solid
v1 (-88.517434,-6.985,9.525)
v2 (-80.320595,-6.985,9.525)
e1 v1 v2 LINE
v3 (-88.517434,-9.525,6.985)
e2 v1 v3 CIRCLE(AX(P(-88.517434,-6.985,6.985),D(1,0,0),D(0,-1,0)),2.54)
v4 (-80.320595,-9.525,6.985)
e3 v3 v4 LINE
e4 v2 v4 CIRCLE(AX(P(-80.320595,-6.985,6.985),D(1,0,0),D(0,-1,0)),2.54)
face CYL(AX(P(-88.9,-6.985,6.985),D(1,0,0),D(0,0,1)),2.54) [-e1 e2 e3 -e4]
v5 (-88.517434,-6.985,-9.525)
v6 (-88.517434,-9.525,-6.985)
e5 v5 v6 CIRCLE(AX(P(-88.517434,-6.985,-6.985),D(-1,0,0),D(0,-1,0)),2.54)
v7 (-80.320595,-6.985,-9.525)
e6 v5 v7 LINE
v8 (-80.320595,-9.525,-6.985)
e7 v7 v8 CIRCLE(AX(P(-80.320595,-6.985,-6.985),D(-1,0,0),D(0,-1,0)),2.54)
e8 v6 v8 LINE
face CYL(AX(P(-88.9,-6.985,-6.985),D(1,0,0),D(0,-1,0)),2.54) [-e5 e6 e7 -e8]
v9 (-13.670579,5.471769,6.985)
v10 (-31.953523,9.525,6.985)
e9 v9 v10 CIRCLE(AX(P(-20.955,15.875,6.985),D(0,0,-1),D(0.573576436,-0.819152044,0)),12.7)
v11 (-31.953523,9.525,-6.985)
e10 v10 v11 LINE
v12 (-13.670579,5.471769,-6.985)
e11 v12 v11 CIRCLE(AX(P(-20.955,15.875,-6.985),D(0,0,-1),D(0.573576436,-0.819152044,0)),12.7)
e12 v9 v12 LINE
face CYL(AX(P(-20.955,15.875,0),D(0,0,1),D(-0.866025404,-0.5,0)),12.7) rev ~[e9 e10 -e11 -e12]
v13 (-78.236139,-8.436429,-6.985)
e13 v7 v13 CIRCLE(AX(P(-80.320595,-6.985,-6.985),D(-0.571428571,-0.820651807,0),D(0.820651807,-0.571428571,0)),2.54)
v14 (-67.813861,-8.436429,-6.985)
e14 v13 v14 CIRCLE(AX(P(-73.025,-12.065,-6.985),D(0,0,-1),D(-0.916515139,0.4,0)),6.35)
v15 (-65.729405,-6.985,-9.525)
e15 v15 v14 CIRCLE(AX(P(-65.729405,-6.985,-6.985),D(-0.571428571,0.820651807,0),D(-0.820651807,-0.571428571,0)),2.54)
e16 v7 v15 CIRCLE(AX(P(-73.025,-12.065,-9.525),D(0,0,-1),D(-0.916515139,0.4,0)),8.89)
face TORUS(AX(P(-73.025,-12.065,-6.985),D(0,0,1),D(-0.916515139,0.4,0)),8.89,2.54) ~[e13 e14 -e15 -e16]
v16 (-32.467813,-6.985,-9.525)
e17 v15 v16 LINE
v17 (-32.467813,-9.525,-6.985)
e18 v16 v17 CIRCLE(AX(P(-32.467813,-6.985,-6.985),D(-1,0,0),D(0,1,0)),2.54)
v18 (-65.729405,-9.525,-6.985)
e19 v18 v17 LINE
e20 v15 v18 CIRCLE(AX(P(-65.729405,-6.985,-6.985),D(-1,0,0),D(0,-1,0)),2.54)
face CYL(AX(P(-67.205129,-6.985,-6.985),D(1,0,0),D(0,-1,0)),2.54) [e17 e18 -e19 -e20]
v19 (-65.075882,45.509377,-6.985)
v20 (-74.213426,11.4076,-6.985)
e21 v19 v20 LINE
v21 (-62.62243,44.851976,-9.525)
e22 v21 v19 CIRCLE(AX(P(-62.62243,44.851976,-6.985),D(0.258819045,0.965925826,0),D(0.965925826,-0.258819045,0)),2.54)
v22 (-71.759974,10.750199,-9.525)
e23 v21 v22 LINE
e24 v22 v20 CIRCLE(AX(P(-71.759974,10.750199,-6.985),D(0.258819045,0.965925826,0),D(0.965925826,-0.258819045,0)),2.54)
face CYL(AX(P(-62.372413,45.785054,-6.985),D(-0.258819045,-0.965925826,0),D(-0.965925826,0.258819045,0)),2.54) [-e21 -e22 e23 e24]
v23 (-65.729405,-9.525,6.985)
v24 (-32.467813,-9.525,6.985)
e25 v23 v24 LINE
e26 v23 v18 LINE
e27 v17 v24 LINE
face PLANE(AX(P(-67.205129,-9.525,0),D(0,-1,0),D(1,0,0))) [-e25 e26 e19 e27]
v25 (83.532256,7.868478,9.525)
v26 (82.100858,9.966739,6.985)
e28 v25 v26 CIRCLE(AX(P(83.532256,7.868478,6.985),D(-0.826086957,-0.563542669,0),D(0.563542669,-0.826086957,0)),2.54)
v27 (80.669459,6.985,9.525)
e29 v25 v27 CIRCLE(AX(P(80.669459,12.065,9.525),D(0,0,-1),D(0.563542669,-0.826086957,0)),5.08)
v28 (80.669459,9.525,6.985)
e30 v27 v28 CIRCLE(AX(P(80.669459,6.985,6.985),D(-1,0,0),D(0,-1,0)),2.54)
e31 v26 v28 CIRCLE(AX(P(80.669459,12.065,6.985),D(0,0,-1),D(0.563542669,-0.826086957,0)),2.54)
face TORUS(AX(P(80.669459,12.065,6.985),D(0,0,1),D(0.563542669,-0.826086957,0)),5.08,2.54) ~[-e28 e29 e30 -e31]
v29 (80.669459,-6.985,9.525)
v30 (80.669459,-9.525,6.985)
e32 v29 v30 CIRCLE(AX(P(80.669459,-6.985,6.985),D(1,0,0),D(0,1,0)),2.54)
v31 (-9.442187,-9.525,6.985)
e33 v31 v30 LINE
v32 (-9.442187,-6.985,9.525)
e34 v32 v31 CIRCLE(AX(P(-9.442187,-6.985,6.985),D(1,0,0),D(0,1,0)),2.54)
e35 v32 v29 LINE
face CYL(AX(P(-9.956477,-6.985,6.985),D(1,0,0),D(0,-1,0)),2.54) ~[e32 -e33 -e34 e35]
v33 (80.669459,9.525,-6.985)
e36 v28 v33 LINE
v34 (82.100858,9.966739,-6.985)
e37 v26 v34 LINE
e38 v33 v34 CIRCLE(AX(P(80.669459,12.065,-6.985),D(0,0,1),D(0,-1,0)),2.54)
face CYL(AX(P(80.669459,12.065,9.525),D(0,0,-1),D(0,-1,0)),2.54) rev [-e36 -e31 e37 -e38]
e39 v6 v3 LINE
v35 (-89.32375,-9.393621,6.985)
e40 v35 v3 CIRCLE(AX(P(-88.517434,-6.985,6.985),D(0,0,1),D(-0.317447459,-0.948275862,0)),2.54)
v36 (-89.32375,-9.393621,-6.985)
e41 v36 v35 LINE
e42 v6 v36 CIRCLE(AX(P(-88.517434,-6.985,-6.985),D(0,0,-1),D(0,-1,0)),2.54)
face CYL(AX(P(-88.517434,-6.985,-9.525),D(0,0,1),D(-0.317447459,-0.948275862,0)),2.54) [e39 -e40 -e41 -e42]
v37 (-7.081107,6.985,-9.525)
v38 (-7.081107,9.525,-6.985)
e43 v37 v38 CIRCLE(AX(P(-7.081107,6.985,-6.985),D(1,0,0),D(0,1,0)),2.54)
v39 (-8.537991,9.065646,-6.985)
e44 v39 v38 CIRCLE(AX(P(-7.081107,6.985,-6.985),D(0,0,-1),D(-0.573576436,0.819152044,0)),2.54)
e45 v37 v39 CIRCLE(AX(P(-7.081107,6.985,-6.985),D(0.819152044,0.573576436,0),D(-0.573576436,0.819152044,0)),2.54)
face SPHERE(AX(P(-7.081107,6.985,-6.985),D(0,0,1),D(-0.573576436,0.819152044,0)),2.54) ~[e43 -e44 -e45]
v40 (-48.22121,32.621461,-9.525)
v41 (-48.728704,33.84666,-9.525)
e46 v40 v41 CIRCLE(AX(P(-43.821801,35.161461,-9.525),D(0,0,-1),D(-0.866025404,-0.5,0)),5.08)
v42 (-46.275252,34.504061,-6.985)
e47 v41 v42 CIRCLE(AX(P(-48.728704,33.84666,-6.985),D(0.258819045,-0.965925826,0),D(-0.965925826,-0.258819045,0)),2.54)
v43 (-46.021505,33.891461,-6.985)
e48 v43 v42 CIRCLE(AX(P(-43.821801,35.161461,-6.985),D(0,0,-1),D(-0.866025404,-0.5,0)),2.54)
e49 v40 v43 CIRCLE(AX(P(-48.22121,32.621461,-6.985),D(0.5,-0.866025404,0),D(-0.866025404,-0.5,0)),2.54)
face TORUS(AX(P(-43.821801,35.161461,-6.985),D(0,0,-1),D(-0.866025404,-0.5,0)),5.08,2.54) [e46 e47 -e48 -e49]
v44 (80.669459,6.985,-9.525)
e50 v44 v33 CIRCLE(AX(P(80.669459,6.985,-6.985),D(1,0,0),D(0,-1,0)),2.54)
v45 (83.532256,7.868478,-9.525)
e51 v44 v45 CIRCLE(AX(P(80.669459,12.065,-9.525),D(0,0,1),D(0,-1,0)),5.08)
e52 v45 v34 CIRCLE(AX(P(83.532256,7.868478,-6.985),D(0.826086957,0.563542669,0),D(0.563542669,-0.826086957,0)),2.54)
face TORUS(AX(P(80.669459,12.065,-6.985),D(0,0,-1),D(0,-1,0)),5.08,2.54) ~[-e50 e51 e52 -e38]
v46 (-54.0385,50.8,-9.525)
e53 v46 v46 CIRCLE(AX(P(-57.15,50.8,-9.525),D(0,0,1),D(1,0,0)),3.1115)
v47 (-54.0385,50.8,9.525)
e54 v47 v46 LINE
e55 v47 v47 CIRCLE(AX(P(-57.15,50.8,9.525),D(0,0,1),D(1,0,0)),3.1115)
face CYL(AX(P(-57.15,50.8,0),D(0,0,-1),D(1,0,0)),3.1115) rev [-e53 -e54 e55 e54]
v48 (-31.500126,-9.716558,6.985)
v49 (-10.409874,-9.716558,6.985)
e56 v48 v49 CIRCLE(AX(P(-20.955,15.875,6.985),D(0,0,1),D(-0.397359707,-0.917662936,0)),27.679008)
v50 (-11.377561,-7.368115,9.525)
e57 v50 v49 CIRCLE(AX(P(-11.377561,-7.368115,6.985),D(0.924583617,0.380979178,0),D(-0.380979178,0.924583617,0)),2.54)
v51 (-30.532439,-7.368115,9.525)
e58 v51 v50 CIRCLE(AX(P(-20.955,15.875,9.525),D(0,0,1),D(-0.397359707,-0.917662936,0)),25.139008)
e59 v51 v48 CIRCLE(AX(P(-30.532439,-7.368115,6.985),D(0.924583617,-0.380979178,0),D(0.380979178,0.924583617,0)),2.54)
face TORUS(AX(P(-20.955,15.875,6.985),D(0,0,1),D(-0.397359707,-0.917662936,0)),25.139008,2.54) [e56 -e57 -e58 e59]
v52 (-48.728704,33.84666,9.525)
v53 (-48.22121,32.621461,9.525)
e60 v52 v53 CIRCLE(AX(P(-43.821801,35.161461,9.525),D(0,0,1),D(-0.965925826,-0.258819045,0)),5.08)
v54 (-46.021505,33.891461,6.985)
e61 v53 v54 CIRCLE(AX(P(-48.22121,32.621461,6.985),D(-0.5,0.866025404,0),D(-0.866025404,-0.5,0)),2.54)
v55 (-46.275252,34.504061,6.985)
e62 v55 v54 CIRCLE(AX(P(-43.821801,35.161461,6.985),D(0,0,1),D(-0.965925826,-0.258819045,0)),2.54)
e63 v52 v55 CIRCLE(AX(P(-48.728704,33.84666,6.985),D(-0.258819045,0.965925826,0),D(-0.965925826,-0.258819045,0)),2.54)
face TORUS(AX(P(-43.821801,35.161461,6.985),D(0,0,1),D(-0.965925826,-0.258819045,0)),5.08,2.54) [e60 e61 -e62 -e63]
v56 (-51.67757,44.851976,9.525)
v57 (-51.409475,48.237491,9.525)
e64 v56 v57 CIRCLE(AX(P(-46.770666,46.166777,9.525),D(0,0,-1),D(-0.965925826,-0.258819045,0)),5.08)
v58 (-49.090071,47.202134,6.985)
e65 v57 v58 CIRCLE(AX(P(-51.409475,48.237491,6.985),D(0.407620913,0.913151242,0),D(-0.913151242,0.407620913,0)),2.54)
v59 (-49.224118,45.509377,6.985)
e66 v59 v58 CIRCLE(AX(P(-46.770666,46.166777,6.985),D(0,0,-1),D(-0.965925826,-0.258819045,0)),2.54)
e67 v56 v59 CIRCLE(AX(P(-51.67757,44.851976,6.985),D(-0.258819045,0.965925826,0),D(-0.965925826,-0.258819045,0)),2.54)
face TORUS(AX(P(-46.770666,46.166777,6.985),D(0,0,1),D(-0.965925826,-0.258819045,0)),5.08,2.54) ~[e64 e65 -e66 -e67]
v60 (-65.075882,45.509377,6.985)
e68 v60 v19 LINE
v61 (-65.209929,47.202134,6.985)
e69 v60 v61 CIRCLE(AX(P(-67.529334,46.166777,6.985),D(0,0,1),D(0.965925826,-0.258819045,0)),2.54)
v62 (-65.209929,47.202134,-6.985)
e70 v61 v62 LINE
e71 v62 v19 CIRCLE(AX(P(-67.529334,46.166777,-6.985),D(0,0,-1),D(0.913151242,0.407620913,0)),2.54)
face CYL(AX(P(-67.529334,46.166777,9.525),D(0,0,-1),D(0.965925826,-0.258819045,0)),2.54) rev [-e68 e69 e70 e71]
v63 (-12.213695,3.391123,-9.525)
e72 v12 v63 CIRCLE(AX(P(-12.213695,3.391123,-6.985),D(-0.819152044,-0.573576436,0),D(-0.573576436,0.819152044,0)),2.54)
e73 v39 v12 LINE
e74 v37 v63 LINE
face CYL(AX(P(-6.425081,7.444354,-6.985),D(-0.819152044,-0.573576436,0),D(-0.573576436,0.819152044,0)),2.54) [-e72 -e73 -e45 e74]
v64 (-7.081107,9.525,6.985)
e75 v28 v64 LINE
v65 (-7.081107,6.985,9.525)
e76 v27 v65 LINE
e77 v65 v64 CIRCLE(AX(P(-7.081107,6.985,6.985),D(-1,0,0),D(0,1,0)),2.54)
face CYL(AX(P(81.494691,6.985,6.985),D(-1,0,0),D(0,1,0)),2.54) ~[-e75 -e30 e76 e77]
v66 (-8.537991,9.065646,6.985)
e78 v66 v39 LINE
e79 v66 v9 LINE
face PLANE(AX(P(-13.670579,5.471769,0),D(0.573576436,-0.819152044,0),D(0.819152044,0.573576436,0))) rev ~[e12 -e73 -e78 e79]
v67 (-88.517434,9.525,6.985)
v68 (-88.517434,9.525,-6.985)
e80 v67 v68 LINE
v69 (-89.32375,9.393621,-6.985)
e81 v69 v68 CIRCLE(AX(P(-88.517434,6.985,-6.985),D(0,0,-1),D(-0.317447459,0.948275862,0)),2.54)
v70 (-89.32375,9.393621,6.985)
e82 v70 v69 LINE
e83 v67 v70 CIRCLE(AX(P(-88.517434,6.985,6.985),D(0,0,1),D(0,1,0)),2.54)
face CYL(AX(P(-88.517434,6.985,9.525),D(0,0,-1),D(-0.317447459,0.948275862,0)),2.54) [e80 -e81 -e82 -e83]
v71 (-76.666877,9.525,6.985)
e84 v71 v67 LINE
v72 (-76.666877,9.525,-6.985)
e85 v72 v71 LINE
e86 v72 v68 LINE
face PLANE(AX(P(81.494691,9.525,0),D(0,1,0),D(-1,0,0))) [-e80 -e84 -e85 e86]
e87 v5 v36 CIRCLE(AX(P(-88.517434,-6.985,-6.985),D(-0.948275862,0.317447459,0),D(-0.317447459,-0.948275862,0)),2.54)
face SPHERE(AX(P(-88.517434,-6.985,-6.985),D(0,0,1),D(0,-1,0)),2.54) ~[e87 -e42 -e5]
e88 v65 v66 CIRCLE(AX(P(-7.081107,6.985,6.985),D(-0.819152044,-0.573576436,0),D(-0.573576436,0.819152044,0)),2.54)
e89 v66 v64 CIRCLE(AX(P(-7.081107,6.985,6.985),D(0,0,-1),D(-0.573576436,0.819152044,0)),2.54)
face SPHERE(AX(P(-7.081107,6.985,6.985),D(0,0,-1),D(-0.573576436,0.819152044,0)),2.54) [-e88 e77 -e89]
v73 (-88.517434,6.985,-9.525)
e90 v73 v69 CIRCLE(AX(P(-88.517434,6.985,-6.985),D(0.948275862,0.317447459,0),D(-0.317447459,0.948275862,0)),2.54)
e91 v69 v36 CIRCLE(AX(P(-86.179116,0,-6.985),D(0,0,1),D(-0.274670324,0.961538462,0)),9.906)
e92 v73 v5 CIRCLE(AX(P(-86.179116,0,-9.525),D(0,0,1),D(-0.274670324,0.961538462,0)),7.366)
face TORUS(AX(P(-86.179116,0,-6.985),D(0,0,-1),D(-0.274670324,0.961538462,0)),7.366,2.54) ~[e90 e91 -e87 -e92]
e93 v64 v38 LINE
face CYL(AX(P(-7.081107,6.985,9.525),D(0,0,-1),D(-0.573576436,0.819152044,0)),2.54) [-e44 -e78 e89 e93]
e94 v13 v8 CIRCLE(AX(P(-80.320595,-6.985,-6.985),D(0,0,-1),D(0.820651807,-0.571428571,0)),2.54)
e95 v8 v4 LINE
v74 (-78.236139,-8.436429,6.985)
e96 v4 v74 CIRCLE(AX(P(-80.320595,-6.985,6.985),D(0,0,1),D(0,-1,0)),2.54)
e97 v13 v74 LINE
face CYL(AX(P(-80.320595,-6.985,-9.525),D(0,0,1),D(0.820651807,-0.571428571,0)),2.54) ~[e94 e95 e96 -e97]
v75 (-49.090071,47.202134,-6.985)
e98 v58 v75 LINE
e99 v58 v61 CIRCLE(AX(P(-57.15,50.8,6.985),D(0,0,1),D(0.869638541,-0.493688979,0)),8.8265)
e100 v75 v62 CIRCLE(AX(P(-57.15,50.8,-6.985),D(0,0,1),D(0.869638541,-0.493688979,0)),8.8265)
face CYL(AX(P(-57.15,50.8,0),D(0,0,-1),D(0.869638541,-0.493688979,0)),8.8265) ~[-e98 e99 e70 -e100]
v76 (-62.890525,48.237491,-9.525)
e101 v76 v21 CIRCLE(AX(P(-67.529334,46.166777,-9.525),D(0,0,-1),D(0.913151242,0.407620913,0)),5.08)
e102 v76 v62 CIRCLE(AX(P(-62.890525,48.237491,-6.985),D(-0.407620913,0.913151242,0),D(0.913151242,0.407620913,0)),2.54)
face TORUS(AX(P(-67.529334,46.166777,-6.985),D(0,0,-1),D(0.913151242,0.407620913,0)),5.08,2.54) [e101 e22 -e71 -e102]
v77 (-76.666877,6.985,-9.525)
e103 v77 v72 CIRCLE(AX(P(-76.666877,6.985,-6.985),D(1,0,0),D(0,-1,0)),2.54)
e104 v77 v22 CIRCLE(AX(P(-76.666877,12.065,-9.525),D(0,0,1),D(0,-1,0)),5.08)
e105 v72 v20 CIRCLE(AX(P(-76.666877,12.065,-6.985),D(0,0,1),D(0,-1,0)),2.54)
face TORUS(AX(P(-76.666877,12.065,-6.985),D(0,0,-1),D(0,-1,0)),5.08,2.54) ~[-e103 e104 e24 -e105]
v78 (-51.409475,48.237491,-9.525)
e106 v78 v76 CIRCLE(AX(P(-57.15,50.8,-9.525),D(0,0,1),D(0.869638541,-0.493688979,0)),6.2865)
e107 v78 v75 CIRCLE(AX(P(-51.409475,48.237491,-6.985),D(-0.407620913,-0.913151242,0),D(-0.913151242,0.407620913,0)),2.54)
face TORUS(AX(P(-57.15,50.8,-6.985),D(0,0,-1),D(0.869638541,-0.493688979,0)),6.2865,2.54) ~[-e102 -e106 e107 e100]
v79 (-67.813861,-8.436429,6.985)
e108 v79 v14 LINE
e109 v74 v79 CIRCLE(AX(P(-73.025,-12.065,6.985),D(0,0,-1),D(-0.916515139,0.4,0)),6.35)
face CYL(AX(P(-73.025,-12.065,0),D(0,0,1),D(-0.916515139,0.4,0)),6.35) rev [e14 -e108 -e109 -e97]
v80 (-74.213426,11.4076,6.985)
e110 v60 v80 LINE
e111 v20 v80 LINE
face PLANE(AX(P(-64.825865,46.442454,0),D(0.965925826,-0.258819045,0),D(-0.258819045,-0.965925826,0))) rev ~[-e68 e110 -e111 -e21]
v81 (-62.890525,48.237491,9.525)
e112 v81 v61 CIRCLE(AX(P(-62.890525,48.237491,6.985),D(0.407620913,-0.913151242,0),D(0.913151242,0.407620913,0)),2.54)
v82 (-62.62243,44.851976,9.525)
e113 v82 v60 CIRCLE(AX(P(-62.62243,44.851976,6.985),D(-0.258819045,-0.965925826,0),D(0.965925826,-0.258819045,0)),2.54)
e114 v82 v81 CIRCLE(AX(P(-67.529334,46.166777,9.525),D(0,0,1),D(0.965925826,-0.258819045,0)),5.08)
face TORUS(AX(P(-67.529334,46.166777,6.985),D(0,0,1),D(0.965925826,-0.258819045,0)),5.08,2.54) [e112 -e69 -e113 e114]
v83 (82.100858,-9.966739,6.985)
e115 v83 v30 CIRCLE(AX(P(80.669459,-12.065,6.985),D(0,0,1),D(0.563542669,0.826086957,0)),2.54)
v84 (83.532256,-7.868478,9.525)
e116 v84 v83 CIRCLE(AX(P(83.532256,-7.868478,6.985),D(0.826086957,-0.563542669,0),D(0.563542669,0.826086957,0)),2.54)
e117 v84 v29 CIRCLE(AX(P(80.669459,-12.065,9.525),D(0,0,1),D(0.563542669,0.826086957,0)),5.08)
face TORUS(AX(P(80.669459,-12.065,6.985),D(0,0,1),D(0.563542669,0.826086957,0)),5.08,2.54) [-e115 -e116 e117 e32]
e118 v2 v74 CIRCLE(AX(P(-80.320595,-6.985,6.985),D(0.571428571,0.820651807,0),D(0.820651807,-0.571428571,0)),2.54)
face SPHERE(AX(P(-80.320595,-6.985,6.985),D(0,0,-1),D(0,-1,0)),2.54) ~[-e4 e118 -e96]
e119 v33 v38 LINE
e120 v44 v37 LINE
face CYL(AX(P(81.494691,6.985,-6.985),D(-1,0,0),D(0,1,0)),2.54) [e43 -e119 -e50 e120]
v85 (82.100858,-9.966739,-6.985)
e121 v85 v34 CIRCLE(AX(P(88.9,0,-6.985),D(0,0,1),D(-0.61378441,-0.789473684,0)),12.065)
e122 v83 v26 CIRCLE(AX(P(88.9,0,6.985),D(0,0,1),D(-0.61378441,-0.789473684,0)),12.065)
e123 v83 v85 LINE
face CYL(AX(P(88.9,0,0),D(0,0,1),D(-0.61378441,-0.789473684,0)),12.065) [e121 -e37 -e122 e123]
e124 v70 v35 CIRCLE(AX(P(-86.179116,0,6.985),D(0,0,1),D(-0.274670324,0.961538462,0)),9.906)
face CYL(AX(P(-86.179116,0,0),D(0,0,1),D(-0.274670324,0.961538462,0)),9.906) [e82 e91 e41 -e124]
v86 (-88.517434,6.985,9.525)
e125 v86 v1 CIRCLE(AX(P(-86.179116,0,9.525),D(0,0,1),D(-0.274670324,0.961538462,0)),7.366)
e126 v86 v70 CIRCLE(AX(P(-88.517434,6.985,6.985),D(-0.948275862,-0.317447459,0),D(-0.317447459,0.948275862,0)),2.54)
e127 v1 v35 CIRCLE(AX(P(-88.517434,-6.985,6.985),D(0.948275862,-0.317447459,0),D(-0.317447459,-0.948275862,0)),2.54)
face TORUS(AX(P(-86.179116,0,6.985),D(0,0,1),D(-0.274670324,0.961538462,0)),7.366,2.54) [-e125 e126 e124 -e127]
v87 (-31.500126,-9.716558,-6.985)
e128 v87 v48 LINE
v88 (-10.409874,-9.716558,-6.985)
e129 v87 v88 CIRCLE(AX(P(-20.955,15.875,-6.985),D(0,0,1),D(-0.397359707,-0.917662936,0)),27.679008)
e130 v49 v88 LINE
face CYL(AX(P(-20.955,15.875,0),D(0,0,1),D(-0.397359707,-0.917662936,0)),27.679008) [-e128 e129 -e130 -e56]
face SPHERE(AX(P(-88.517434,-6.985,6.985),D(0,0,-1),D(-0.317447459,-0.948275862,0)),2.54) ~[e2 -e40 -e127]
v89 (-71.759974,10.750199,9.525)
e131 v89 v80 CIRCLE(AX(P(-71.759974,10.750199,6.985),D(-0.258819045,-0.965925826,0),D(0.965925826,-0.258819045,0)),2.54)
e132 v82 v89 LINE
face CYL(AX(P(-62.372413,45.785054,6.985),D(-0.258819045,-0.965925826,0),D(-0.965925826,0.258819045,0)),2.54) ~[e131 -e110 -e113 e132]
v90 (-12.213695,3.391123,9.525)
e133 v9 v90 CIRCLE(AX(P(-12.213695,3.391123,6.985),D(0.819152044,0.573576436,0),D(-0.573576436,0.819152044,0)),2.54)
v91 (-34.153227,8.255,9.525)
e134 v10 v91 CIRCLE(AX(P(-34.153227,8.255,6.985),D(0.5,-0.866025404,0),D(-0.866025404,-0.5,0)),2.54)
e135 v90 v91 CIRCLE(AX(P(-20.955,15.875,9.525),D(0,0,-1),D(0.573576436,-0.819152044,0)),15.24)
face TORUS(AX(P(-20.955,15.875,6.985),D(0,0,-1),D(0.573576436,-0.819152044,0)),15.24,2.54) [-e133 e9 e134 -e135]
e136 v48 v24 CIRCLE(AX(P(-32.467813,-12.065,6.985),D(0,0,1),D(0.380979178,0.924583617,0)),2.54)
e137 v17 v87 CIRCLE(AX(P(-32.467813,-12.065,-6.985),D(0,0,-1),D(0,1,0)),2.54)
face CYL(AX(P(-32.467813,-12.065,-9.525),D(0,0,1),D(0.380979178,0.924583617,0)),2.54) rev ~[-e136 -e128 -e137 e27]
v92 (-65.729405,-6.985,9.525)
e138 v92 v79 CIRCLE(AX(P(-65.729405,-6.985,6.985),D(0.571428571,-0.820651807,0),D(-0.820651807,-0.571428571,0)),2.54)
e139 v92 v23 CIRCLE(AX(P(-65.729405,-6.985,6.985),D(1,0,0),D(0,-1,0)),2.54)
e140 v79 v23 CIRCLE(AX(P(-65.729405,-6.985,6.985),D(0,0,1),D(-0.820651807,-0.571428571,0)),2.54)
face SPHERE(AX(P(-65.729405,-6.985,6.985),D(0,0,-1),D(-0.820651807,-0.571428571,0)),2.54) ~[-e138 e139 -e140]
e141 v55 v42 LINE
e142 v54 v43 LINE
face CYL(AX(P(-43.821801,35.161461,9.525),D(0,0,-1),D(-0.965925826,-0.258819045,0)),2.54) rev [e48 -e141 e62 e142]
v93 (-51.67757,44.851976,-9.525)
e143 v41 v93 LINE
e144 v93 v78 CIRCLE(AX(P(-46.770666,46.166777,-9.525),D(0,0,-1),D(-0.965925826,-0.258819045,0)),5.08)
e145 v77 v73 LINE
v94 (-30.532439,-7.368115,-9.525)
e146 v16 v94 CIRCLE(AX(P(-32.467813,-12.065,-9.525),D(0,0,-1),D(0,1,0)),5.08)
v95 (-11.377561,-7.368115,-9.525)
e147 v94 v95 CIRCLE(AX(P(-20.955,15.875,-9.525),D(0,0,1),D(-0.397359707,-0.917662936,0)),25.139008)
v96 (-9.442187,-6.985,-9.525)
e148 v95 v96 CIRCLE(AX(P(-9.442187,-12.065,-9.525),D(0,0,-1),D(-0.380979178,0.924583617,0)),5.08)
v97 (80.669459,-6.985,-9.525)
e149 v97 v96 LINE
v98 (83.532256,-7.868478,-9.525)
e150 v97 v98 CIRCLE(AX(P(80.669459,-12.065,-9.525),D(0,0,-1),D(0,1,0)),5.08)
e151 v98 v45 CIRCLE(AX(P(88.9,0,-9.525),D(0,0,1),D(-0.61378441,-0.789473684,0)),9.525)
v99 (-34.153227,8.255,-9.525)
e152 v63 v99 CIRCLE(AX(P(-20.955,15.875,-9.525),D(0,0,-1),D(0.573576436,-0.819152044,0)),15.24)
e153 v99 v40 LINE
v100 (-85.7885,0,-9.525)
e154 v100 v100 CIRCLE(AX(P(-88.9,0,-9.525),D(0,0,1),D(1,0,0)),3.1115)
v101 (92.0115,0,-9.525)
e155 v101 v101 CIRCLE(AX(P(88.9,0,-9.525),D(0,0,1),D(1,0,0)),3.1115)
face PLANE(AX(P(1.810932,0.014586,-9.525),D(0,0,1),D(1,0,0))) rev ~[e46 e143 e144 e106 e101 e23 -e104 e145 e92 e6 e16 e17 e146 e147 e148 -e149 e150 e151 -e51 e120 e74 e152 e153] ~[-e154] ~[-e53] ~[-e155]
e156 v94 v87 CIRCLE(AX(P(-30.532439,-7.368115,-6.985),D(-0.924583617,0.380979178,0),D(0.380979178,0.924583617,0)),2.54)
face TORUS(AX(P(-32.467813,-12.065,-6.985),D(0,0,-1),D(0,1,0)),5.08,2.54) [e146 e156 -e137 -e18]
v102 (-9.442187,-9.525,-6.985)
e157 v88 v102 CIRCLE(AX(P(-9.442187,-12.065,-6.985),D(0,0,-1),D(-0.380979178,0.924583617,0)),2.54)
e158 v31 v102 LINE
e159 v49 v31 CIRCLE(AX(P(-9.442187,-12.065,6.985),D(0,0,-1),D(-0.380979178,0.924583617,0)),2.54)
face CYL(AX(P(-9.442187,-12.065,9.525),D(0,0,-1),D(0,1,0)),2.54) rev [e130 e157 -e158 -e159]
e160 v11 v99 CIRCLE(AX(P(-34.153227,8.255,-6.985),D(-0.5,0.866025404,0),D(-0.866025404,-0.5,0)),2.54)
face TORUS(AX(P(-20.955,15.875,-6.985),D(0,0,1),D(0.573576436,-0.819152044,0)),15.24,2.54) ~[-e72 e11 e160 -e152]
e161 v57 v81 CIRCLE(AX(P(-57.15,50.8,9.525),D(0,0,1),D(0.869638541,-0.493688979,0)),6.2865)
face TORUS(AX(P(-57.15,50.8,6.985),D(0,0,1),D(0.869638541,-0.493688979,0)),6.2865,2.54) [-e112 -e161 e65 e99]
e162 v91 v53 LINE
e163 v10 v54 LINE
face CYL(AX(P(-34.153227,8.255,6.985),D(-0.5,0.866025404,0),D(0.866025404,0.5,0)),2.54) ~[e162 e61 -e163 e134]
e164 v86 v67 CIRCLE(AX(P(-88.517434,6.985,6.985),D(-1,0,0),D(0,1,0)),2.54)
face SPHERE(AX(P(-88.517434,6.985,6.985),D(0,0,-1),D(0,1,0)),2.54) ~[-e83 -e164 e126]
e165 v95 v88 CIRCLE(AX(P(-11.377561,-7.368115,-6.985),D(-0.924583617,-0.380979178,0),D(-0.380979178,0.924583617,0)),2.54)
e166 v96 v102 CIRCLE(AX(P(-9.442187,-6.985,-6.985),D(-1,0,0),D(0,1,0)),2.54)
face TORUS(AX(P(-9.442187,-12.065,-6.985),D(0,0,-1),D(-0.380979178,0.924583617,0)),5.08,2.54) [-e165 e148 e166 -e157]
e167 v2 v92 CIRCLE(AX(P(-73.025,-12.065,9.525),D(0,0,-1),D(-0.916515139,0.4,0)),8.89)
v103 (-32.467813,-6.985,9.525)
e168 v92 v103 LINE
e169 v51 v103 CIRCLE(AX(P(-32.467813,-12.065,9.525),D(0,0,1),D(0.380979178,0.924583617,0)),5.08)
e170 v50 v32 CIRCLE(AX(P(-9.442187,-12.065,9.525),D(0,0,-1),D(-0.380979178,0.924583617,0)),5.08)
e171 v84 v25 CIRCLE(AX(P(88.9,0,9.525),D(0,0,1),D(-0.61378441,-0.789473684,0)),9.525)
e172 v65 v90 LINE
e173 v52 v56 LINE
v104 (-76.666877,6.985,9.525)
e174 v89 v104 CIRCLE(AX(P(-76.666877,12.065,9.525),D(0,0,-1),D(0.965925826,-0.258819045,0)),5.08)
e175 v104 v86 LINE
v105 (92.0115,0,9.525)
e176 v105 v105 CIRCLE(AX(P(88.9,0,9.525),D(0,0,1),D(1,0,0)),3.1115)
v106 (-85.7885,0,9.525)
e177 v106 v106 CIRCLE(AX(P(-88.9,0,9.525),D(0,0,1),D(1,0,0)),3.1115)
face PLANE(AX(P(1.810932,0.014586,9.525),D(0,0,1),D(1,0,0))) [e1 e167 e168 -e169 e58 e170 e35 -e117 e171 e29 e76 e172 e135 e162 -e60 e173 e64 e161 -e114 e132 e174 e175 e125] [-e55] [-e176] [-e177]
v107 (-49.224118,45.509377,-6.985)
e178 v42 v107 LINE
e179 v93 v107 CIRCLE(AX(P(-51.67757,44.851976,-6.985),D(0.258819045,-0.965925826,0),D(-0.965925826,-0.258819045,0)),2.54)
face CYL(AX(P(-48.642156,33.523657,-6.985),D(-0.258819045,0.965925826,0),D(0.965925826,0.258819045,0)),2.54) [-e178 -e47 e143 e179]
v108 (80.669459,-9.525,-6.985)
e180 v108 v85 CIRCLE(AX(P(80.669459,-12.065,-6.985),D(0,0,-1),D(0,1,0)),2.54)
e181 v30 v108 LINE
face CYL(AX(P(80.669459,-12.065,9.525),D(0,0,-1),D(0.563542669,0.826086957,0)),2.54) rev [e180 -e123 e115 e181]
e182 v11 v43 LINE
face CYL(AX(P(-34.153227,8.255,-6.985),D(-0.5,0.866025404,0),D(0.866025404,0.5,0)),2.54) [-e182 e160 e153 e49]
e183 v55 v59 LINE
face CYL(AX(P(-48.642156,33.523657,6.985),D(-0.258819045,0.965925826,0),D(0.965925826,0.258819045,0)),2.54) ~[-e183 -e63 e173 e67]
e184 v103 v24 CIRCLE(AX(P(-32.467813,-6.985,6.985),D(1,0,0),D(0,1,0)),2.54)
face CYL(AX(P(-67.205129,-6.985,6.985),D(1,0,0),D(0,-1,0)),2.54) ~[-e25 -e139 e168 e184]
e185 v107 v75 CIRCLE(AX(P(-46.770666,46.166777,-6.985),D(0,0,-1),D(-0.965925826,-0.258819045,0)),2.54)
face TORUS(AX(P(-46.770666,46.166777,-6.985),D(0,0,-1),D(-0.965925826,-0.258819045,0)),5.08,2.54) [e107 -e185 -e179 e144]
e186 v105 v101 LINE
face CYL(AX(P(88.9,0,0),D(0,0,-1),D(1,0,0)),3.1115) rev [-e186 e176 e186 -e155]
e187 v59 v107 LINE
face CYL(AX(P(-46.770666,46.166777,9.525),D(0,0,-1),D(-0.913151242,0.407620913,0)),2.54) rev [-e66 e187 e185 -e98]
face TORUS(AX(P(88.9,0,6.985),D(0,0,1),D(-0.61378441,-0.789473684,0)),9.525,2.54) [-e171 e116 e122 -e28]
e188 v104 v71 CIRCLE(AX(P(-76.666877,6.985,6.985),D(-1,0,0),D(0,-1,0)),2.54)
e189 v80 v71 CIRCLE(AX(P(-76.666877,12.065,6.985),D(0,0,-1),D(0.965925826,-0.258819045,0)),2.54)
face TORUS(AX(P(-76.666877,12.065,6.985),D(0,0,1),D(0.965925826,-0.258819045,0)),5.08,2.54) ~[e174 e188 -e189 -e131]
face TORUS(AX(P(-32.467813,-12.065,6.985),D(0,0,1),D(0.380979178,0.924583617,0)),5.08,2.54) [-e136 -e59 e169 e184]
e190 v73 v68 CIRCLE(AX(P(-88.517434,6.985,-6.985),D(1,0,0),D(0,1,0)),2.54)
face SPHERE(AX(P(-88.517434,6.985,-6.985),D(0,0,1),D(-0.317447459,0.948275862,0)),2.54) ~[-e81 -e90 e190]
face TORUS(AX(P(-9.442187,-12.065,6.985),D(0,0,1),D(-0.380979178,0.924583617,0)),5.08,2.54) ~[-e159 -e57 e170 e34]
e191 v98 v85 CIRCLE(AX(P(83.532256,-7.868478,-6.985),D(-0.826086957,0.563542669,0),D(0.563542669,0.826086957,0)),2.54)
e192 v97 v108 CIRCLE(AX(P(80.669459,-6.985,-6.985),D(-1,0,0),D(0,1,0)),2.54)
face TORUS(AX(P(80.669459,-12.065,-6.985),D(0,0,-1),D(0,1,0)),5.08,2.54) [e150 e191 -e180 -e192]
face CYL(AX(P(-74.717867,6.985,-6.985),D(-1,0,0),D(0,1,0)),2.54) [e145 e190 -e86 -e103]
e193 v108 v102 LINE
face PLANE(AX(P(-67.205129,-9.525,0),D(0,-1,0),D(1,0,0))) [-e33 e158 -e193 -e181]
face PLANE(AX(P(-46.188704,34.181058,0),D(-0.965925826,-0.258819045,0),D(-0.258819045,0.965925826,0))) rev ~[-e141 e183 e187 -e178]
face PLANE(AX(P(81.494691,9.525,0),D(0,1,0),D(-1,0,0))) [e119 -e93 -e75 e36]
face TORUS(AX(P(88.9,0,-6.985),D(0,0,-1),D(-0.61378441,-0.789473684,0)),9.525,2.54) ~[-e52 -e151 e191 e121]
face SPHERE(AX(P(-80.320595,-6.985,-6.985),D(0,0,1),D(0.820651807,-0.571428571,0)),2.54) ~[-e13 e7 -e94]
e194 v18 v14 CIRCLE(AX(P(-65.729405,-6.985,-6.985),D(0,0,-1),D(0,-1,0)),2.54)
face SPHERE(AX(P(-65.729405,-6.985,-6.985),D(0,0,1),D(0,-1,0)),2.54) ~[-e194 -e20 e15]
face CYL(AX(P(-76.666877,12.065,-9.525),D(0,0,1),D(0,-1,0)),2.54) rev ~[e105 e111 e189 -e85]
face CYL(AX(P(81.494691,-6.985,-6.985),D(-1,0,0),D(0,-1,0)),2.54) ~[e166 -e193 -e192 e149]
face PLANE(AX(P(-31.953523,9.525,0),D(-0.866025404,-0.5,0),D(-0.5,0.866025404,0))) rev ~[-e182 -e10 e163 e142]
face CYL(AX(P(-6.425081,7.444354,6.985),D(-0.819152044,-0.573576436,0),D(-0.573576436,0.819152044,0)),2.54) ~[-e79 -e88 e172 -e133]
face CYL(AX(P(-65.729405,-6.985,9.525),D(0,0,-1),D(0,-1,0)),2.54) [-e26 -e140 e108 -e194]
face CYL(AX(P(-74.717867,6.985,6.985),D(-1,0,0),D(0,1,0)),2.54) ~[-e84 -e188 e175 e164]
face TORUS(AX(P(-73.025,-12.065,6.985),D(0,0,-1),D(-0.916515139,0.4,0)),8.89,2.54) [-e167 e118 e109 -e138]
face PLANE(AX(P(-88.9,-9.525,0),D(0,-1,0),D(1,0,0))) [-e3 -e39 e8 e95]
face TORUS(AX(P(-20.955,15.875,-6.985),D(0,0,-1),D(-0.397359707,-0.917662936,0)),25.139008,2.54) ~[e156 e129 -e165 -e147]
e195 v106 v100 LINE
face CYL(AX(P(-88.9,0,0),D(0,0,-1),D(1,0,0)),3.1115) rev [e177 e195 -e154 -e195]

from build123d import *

# Parameters (mm, degrees)
SKETCH2_R               = 3.1115
BOSS_EXTRUDE1_DEPTH     = 9.525
SKETCH2_4_R             = 3.1115
BOSS_EXTRUDE2_DEPTH     = 9.525
CUT_EXTRUDE1_DEPTH      = 10.525
CUT_EXTRUDE1_DEPTH_BACK = 10.525
FILLET3_R               = 2.54


with BuildPart() as part:
    # Sketch2 → Boss-Extrude1 (new body, symmetric)
    with BuildSketch(Plane.XY):
        with BuildLine():
            ThreePointArc((-88.9, 9.525), (-96.085115769, 0), (-88.9, -9.525))
            Line((-88.9, -9.525), (-78.844871133, -9.525))
            ThreePointArc((-78.844871133, -9.525), (-73.025, -5.715), (-67.205128867, -9.525))
            Line((-67.205128867, -9.525), (81.494691094, -9.525))
            ThreePointArc((81.494691094, -9.525), (100.965, 0), (81.494691094, 9.525))
            Line((81.494691094, 9.525), (-88.9, 9.525))
        make_face()
        with Locations((-88.9, 0)):
            Circle(SKETCH2_R, mode=Mode.SUBTRACT)
        with Locations((88.9, 0)):
            Circle(SKETCH2_R, mode=Mode.SUBTRACT)
    extrude(amount=BOSS_EXTRUDE1_DEPTH, both=True)

    # Sketch2<4> → Boss-Extrude2 (add, symmetric)
    with BuildSketch(Plane.XY):
        with BuildLine():
            Line((-64.82586458, 46.442454223), (-74.717866626, 9.525))
            Line((-74.717866626, 9.525), (-39.582133374, 9.525))
            Line((-39.582133374, 9.525), (-46.188704076, 34.181057523))
            Line((-46.188704076, 34.181057523), (-49.47413542, 46.442454223))
            Line((-49.47413542, 46.442454223), (-51.077707293, 52.427065927))
            ThreePointArc((-51.077707293, 52.427065927), (-57.15, 57.0865), (-63.222292707, 52.427065927))
            Line((-63.222292707, 52.427065927), (-64.82586458, 46.442454223))
        make_face()
        with Locations((-57.15, 50.8)):
            Circle(SKETCH2_4_R, mode=Mode.SUBTRACT)
        Polygon((-46.188704076, 34.181057523), (-39.582133374, 9.525), (-31.953522628, 9.525), align=None)
        with BuildLine():
            ThreePointArc((79.375, -9.525), (74.295, -6.985), (69.215, -9.525))
            Line((69.215, -9.525), (79.375, -9.525))
        make_face()
        with BuildLine():
            Line((-9.956477372, -9.525), (-31.953522628, -9.525))
            ThreePointArc((-31.953522628, -9.525), (-20.955, -11.804008291), (-9.956477372, -9.525))
        make_face()
        with BuildLine():
            ThreePointArc((-49.47413542, 46.442454223), (-57.15, 59.6265), (-64.82586458, 46.442454223))
            Line((-64.82586458, 46.442454223), (-63.222292707, 52.427065927))
            ThreePointArc((-63.222292707, 52.427065927), (-57.15, 57.0865), (-51.077707293, 52.427065927))
            Line((-51.077707293, 52.427065927), (-49.47413542, 46.442454223))
        make_face()
    extrude(amount=BOSS_EXTRUDE2_DEPTH, both=True)

    # Sketch2<5> → Cut-Extrude1 (cut, two sides)
    with BuildSketch(Plane.XY) as cut_extrude1_sk:
        with BuildLine():
            Line((-9.956477372, 9.525), (-31.953522628, 9.525))
            ThreePointArc((-31.953522628, 9.525), (-23.703783097, 3.47604071), (-13.670579258, 5.471769038))
            ThreePointArc((-13.670579258, 5.471769038), (-11.591577823, 7.295004363), (-9.956477372, 9.525))
        make_face()
        with BuildLine():
            Line((-7.881965538, 9.525), (-9.956477372, 9.525))
            ThreePointArc((-9.956477372, 9.525), (-11.591577823, 7.295004363), (-13.670579258, 5.471769038))
            Line((-13.670579258, 5.471769038), (-7.881965538, 9.525))
        make_face()
        with BuildLine():
            ThreePointArc((-67.205128867, -9.525), (-73.025, -5.715), (-78.844871133, -9.525))
            Line((-78.844871133, -9.525), (-67.205128867, -9.525))
        make_face()
    extrude(amount=CUT_EXTRUDE1_DEPTH, mode=Mode.SUBTRACT)
    extrude(cut_extrude1_sk.sketch, amount=-CUT_EXTRUDE1_DEPTH_BACK, mode=Mode.SUBTRACT)

    # Fillet3
    fillet3_edges = [part.edges().sort_by_distance(p)[0] for p in [
        (100.965, 0, -9.525),
        (-49.579325748, -9.525, -9.525),
        (-73.025, -5.715, -9.525),
        (-83.872435566, -9.525, -9.525),
        (-96.085115769, 0, 9.525),
        (-96.085115769, 0, -9.525),
        (-81.808933313, 9.525, -9.525),
        (81.494691094, 9.525, 0),
        (81.494691094, -9.525, 0),
        (-67.205128867, -9.525, 0),
        (-78.844871133, -9.525, 0),
        (-83.872435566, -9.525, 9.525),
        (-88.9, -9.525, 0),
        (-88.9, 9.525, 0),
        (-73.025, -5.715, 9.525),
        (-49.579325748, -9.525, 9.525),
        (100.965, 0, 9.525),
        (35.769106861, -9.525, -9.525),
        (35.769106861, -9.525, 9.525),
        (-9.956477372, -9.525, 0),
        (-20.955, -11.804008291, -9.525),
        (-31.953522628, -9.525, 0),
        (-20.955, -11.804008291, 9.525),
        (-57.15, 59.6265, 9.525),
        (-49.47413542, 46.442454223, 0),
        (-69.771865603, 27.983727112, -9.525),
        (-64.82586458, 46.442454223, 0),
        (-74.717866626, 9.525, 0),
        (-39.071113352, 21.853028761, 9.525),
        (-47.831419748, 40.311755873, -9.525),
        (-46.188704076, 34.181057523, 0),
        (-69.771865603, 27.983727112, 9.525),
        (-47.831419748, 40.311755873, 9.525),
        (-57.15, 59.6265, -9.525),
        (-39.071113352, 21.853028761, -9.525),
        (-81.808933313, 9.525, 9.525),
        (36.806362778, 9.525, -9.525),
        (36.806362778, 9.525, 9.525),
        (-7.881965538, 9.525, 0),
        (-10.776272398, 7.498384519, -9.525),
        (-23.703783097, 3.47604071, -9.525),
        (-23.703783097, 3.47604071, 9.525),
        (-10.776272398, 7.498384519, 9.525),
    ]]
    fillet(fillet3_edges, radius=FILLET3_R)


solid = part.part
